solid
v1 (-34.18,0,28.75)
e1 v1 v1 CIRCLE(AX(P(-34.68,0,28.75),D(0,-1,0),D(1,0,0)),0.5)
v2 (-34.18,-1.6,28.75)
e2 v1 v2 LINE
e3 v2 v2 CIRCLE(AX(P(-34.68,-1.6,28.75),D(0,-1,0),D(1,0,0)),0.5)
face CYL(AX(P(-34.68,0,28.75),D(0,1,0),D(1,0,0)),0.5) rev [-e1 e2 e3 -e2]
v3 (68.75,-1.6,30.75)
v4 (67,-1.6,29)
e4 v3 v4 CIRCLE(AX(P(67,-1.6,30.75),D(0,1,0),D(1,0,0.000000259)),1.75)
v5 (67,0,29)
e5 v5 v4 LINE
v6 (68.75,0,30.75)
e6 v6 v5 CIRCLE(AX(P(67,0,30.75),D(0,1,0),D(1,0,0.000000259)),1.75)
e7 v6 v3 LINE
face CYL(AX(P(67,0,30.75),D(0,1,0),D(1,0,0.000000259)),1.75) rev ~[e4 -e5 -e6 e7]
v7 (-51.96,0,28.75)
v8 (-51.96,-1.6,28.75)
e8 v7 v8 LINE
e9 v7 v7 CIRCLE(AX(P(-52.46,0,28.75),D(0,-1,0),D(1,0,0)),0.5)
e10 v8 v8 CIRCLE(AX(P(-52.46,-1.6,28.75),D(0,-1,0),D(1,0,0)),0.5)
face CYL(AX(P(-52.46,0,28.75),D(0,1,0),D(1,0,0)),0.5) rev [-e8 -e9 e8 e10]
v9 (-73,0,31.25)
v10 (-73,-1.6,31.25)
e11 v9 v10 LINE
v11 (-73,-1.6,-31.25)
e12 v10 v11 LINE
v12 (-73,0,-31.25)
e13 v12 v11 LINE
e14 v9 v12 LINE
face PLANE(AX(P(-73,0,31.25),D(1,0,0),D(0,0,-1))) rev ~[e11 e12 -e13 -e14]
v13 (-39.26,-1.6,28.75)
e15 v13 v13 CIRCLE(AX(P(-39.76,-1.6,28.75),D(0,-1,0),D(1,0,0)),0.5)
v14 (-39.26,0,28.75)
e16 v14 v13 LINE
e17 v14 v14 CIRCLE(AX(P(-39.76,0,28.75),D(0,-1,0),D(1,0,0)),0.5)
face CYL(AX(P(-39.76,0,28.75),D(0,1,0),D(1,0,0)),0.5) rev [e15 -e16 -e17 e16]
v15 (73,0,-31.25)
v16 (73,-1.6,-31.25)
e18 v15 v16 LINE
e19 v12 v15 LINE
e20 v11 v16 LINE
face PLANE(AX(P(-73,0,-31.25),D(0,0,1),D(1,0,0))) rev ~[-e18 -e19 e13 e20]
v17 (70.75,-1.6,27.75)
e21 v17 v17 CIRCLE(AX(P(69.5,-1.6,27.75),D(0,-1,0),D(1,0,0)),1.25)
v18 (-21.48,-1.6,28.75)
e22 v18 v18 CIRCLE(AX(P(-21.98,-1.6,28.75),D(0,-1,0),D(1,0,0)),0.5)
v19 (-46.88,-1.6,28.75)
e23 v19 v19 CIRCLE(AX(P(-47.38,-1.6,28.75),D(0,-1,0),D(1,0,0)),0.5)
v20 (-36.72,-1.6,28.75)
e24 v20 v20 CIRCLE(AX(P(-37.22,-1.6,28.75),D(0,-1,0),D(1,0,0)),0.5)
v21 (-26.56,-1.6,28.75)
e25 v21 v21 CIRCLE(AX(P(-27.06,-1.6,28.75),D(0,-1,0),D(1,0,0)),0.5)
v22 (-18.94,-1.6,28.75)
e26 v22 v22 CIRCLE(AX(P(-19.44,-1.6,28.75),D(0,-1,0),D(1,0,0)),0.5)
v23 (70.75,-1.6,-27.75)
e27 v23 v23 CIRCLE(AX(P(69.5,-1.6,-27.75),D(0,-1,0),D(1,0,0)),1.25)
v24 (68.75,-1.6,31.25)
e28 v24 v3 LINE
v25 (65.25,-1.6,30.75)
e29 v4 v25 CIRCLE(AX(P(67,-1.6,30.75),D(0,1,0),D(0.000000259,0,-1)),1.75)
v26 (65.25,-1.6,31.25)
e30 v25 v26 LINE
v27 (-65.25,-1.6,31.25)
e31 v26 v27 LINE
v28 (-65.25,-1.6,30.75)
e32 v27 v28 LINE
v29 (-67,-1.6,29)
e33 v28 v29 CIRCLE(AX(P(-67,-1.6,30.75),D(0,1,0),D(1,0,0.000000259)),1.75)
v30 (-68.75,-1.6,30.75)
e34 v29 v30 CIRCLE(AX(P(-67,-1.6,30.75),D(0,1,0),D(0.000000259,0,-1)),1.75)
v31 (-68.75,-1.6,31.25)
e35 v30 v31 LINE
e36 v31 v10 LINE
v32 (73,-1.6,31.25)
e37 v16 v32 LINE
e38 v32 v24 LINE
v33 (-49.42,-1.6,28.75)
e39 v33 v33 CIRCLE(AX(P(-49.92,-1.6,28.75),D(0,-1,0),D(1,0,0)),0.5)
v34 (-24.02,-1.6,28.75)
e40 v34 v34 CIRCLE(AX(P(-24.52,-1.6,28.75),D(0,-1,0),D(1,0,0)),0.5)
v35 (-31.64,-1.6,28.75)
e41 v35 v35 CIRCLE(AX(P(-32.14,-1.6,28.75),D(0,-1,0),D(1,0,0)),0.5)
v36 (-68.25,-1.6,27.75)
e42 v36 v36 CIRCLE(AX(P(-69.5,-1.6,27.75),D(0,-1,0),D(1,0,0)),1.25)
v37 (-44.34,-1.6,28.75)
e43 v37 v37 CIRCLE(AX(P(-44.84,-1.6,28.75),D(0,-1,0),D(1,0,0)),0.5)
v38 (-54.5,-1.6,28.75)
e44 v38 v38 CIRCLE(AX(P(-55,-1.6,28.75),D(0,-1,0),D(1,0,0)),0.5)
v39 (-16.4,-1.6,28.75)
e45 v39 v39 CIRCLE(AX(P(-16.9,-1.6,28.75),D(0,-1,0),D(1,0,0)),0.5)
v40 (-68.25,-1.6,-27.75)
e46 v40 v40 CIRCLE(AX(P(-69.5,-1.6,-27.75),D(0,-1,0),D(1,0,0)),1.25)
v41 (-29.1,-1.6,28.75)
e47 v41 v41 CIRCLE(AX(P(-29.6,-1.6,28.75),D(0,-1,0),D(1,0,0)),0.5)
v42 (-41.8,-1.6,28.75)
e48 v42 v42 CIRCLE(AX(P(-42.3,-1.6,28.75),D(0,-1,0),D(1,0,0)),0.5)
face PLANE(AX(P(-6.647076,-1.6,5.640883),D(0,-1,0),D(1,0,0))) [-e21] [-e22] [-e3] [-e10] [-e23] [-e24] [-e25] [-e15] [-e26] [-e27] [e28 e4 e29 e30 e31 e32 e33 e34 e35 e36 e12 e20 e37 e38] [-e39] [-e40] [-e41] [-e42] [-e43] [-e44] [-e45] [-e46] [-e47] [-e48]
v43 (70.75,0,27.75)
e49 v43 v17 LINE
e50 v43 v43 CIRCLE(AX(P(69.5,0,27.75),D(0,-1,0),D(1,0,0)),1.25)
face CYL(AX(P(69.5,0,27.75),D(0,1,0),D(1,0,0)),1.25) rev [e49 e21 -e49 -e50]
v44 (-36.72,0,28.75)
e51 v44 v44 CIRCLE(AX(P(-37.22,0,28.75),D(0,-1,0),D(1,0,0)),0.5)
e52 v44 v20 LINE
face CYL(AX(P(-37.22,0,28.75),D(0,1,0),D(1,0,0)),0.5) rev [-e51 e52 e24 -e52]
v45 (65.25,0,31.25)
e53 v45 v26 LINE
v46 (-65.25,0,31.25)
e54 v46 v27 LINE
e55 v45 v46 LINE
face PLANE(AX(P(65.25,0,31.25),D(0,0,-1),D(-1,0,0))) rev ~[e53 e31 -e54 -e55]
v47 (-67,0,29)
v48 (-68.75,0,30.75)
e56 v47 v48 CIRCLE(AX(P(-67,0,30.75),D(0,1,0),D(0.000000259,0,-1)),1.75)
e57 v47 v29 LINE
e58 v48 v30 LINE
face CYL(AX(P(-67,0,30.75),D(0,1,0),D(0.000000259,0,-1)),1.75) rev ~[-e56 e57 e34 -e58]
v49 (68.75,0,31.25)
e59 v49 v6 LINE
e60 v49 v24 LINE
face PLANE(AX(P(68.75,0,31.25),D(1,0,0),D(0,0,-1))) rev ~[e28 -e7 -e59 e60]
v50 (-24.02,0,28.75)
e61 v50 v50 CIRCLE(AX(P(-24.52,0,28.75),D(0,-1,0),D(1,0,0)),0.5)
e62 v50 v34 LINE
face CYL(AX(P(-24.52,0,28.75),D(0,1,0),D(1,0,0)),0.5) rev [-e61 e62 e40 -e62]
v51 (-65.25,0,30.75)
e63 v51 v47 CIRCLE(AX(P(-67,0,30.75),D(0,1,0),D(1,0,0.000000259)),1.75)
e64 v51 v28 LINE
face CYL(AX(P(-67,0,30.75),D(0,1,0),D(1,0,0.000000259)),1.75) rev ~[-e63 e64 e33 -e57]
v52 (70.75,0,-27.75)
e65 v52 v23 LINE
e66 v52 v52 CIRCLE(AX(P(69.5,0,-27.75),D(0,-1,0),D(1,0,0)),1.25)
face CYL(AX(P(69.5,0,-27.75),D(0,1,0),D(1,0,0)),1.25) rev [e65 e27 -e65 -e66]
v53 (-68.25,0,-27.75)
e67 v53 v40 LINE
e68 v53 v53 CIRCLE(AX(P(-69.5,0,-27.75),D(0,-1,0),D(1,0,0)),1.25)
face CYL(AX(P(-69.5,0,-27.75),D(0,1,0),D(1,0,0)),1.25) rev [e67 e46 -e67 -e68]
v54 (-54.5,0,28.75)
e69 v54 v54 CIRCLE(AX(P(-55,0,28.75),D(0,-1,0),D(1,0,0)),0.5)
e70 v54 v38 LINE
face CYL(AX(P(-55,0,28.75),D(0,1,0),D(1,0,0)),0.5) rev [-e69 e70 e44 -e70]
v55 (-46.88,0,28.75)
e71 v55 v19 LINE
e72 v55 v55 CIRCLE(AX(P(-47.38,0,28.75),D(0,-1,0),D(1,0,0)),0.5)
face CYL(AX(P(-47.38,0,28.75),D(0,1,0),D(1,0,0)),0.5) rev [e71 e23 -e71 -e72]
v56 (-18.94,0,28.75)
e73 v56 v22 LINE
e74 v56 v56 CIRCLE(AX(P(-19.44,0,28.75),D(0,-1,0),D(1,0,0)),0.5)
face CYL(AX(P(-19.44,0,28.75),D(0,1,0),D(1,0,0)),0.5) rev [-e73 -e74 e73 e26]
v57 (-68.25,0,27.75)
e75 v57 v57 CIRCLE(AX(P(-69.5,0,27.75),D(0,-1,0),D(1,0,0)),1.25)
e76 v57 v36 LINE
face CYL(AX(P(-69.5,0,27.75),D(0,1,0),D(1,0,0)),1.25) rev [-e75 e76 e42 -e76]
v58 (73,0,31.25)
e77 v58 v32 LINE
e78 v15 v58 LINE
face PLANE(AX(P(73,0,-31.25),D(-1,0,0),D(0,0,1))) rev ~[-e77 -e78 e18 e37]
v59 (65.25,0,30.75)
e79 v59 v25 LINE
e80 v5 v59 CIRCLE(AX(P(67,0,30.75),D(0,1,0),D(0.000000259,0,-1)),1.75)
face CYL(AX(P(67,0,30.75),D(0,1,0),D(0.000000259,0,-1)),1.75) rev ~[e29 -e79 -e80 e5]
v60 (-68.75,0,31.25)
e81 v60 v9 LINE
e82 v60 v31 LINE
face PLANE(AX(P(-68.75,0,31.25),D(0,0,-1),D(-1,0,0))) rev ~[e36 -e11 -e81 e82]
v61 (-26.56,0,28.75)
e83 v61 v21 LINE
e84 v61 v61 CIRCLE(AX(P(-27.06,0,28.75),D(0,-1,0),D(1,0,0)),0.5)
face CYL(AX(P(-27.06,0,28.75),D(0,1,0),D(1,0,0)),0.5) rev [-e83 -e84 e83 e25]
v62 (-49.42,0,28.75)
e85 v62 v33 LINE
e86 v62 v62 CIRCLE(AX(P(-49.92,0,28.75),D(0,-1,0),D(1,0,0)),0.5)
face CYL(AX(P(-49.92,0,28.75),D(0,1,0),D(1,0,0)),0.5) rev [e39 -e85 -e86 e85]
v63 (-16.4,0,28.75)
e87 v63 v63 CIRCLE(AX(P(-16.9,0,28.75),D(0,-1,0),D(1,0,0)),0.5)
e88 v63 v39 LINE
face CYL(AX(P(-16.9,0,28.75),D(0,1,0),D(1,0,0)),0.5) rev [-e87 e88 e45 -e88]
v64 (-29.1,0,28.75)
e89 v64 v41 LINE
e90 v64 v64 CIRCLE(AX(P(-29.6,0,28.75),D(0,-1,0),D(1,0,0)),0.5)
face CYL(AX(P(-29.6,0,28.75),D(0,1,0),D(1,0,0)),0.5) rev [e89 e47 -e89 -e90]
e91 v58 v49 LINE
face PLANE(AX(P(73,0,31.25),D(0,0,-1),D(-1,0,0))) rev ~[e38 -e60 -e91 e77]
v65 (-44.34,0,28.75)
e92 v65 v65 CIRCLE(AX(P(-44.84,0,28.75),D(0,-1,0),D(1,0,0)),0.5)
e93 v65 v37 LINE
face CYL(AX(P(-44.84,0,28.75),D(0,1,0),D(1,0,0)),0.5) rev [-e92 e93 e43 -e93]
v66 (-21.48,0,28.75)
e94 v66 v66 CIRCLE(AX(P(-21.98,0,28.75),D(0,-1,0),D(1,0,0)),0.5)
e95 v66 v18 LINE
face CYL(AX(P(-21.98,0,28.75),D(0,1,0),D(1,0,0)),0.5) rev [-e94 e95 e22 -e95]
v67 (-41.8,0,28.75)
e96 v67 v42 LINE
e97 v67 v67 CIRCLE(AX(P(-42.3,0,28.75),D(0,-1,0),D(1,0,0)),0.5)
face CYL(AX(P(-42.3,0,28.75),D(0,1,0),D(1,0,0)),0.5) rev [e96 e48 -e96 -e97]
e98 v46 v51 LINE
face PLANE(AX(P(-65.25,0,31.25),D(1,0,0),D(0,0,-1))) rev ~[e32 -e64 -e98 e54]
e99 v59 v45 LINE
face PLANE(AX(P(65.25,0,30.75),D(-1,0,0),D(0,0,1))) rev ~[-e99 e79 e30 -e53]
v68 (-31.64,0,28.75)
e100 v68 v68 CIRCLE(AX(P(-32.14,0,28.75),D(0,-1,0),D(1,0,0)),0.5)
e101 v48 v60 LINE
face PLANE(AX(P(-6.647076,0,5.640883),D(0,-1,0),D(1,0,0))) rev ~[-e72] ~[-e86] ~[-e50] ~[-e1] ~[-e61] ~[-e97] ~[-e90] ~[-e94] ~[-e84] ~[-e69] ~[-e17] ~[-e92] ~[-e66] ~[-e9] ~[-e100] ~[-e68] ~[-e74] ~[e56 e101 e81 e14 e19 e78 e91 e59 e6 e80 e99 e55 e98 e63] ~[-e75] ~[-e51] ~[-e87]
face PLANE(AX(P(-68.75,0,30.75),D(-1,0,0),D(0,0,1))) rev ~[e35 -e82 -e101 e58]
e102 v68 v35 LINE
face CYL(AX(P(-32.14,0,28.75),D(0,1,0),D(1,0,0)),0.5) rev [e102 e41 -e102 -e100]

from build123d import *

# Parameters (mm, degrees)
F0_R     = 2
F0_R_2   = 1.25
F0_R_3   = 0.5
F1_DEPTH = 1.6


with BuildPart() as f1:
    # F0 (on Front) → F1 (new body)
    with BuildSketch(Plane.XZ):
        with BuildLine():
            Line((-73, -31.25), (73, -31.25))
            Line((73, -31.25), (73, 31.25))
            Line((73, 31.25), (68.75, 31.25))
            Line((68.75, 31.25), (68.75, 30.75))
            ThreePointArc((68.75, 30.75), (68.237437, 29.512563), (67, 29))
            ThreePointArc((67, 29), (65.762563, 29.512563), (65.25, 30.75))
            Line((65.25, 30.75), (65.25, 31.25))
            Line((65.25, 31.25), (-16, 31.25))
            Line((-16, 31.25), (-16, 29.65))
            Line((-16, 29.65), (-16, 28.75))
            ThreePointArc((-16, 28.75), (-16.263604, 28.113604), (-16.9, 27.85))
            ThreePointArc((-16.9, 27.85), (-17.536396, 28.113604), (-17.8, 28.75))
            Line((-17.8, 28.75), (-17.8, 29.65))
            Line((-17.8, 29.65), (-17.8, 31.25))
            Line((-17.8, 31.25), (-18.54, 31.25))
            Line((-18.54, 31.25), (-18.54, 29.65))
            Line((-18.54, 29.65), (-18.54, 28.75))
            ThreePointArc((-18.54, 28.75), (-18.803604, 28.113604), (-19.44, 27.85))
            ThreePointArc((-19.44, 27.85), (-20.076396, 28.113604), (-20.34, 28.75))
            Line((-20.34, 28.75), (-20.34, 29.65))
            Line((-20.34, 29.65), (-20.34, 31.25))
            Line((-20.34, 31.25), (-21.08, 31.25))
            Line((-21.08, 31.25), (-21.08, 29.65))
            Line((-21.08, 29.65), (-21.08, 28.75))
            ThreePointArc((-21.08, 28.75), (-21.343604, 28.113604), (-21.98, 27.85))
            ThreePointArc((-21.98, 27.85), (-22.616396, 28.113604), (-22.88, 28.75))
            Line((-22.88, 28.75), (-22.88, 29.65))
            Line((-22.88, 29.65), (-22.88, 31.25))
            Line((-22.88, 31.25), (-23.62, 31.25))
            Line((-23.62, 31.25), (-23.62, 29.65))
            Line((-23.62, 29.65), (-23.62, 28.75))
            ThreePointArc((-23.62, 28.75), (-23.883604, 28.113604), (-24.52, 27.85))
            ThreePointArc((-24.52, 27.85), (-25.156396, 28.113604), (-25.42, 28.75))
            Line((-25.42, 28.75), (-25.42, 29.65))
            Line((-25.42, 29.65), (-25.42, 31.25))
            Line((-25.42, 31.25), (-26.16, 31.25))
            Line((-26.16, 31.25), (-26.16, 29.65))
            Line((-26.16, 29.65), (-26.16, 28.75))
            ThreePointArc((-26.16, 28.75), (-26.423604, 28.113604), (-27.06, 27.85))
            ThreePointArc((-27.06, 27.85), (-27.696396, 28.113604), (-27.96, 28.75))
            Line((-27.96, 28.75), (-27.96, 29.65))
            Line((-27.96, 29.65), (-27.96, 31.25))
            Line((-27.96, 31.25), (-28.7, 31.25))
            Line((-28.7, 31.25), (-28.7, 29.65))
            Line((-28.7, 29.65), (-28.7, 28.75))
            ThreePointArc((-28.7, 28.75), (-28.963604, 28.113604), (-29.6, 27.85))
            ThreePointArc((-29.6, 27.85), (-30.236396, 28.113604), (-30.5, 28.75))
            Line((-30.5, 28.75), (-30.5, 29.65))
            Line((-30.5, 29.65), (-30.5, 31.25))
            Line((-30.5, 31.25), (-31.24, 31.25))
            Line((-31.24, 31.25), (-31.24, 29.65))
            Line((-31.24, 29.65), (-31.24, 28.75))
            ThreePointArc((-31.24, 28.75), (-31.503604, 28.113604), (-32.14, 27.85))
            ThreePointArc((-32.14, 27.85), (-32.776396, 28.113604), (-33.04, 28.75))
            Line((-33.04, 28.75), (-33.04, 29.65))
            Line((-33.04, 29.65), (-33.04, 31.25))
            Line((-33.04, 31.25), (-33.78, 31.25))
            Line((-33.78, 31.25), (-33.78, 29.65))
            Line((-33.78, 29.65), (-33.78, 28.75))
            ThreePointArc((-33.78, 28.75), (-34.043604, 28.113604), (-34.68, 27.85))
            ThreePointArc((-34.68, 27.85), (-35.316396, 28.113604), (-35.58, 28.75))
            Line((-35.58, 28.75), (-35.58, 29.65))
            Line((-35.58, 29.65), (-35.58, 31.25))
            Line((-35.58, 31.25), (-36.32, 31.25))
            Line((-36.32, 31.25), (-36.32, 29.65))
            Line((-36.32, 29.65), (-36.32, 28.75))
            ThreePointArc((-36.32, 28.75), (-36.583604, 28.113604), (-37.22, 27.85))
            ThreePointArc((-37.22, 27.85), (-37.856396, 28.113604), (-38.12, 28.75))
            Line((-38.12, 28.75), (-38.12, 29.65))
            Line((-38.12, 29.65), (-38.12, 31.25))
            Line((-38.12, 31.25), (-38.86, 31.25))
            Line((-38.86, 31.25), (-38.86, 29.65))
            Line((-38.86, 29.65), (-38.86, 28.75))
            ThreePointArc((-38.86, 28.75), (-39.123604, 28.113604), (-39.76, 27.85))
            ThreePointArc((-39.76, 27.85), (-40.396396, 28.113604), (-40.66, 28.75))
            Line((-40.66, 28.75), (-40.66, 29.65))
            Line((-40.66, 29.65), (-40.66, 31.25))
            Line((-40.66, 31.25), (-41.4, 31.25))
            Line((-41.4, 31.25), (-41.4, 29.65))
            Line((-41.4, 29.65), (-41.4, 28.75))
            ThreePointArc((-41.4, 28.75), (-41.663604, 28.113604), (-42.3, 27.85))
            ThreePointArc((-42.3, 27.85), (-42.936396, 28.113604), (-43.2, 28.75))
            Line((-43.2, 28.75), (-43.2, 29.65))
            Line((-43.2, 29.65), (-43.2, 31.25))
            Line((-43.2, 31.25), (-43.94, 31.25))
            Line((-43.94, 31.25), (-43.94, 29.65))
            Line((-43.94, 29.65), (-43.94, 28.75))
            ThreePointArc((-43.94, 28.75), (-44.203604, 28.113604), (-44.84, 27.85))
            ThreePointArc((-44.84, 27.85), (-45.476396, 28.113604), (-45.74, 28.75))
            Line((-45.74, 28.75), (-45.74, 29.65))
            Line((-45.74, 29.65), (-45.74, 31.25))
            Line((-45.74, 31.25), (-46.48, 31.25))
            Line((-46.48, 31.25), (-46.48, 29.65))
            Line((-46.48, 29.65), (-46.48, 28.75))
            ThreePointArc((-46.48, 28.75), (-46.743604, 28.113604), (-47.38, 27.85))
            ThreePointArc((-47.38, 27.85), (-48.016396, 28.113604), (-48.28, 28.75))
            Line((-48.28, 28.75), (-48.28, 29.65))
            Line((-48.28, 29.65), (-48.28, 31.25))
            Line((-48.28, 31.25), (-49.02, 31.25))
            Line((-49.02, 31.25), (-49.02, 29.65))
            Line((-49.02, 29.65), (-49.02, 28.75))
            ThreePointArc((-49.02, 28.75), (-49.283604, 28.113604), (-49.92, 27.85))
            ThreePointArc((-49.92, 27.85), (-50.556396, 28.113604), (-50.82, 28.75))
            Line((-50.82, 28.75), (-50.82, 29.65))
            Line((-50.82, 29.65), (-50.82, 31.25))
            Line((-50.82, 31.25), (-51.56, 31.25))
            Line((-51.56, 31.25), (-51.56, 29.65))
            Line((-51.56, 29.65), (-51.56, 28.75))
            ThreePointArc((-51.56, 28.75), (-51.823604, 28.113604), (-52.46, 27.85))
            ThreePointArc((-52.46, 27.85), (-53.096396, 28.113604), (-53.36, 28.75))
            Line((-53.36, 28.75), (-53.36, 29.65))
            Line((-53.36, 29.65), (-53.36, 31.25))
            Line((-53.36, 31.25), (-54.1, 31.25))
            Line((-54.1, 31.25), (-54.1, 29.65))
            Line((-54.1, 29.65), (-54.1, 28.75))
            ThreePointArc((-54.1, 28.75), (-54.363604, 28.113604), (-55, 27.85))
            ThreePointArc((-55, 27.85), (-55.636396, 28.113604), (-55.9, 28.75))
            Line((-55.9, 28.75), (-55.9, 29.65))
            Line((-55.9, 29.65), (-55.9, 31.25))
            Line((-55.9, 31.25), (-65.25, 31.25))
            Line((-65.25, 31.25), (-65.25, 30.75))
            ThreePointArc((-65.25, 30.75), (-65.762563, 29.512563), (-67, 29))
            ThreePointArc((-67, 29), (-68.237437, 29.512563), (-68.75, 30.75))
            Line((-68.75, 30.75), (-68.75, 31.25))
            Line((-68.75, 31.25), (-73, 31.25))
            Line((-73, 31.25), (-73, -31.25))
        make_face()
        with Locations((-69.5, -27.75)):
            Circle(F0_R, mode=Mode.SUBTRACT)
        with Locations((69.5, -27.75)):
            Circle(F0_R, mode=Mode.SUBTRACT)
        with Locations((-69.5, 27.75)):
            Circle(F0_R, mode=Mode.SUBTRACT)
        with Locations((69.5, 27.75)):
            Circle(F0_R, mode=Mode.SUBTRACT)
        with Locations((-69.5, 27.75)):
            Circle(F0_R)
        with Locations((-69.5, 27.75)):
            Circle(F0_R_2, mode=Mode.SUBTRACT)
        with Locations((-69.5, -27.75)):
            Circle(F0_R)
        with Locations((-69.5, -27.75)):
            Circle(F0_R_2, mode=Mode.SUBTRACT)
        with Locations((69.5, 27.75)):
            Circle(F0_R)
        with Locations((69.5, 27.75)):
            Circle(F0_R_2, mode=Mode.SUBTRACT)
        with Locations((69.5, -27.75)):
            Circle(F0_R)
        with Locations((69.5, -27.75)):
            Circle(F0_R_2, mode=Mode.SUBTRACT)
        with BuildLine():
            Line((-54.1, 31.25), (-55.9, 31.25))
            Line((-55.9, 31.25), (-55.9, 29.65))
            Line((-55.9, 29.65), (-55.9, 28.75))
            ThreePointArc((-55.9, 28.75), (-55.636396, 28.113604), (-55, 27.85))
            ThreePointArc((-55, 27.85), (-54.363604, 28.113604), (-54.1, 28.75))
            Line((-54.1, 28.75), (-54.1, 29.65))
            Line((-54.1, 29.65), (-54.1, 31.25))
        make_face()
        with Locations((-55, 28.75)):
            Circle(F0_R_3, mode=Mode.SUBTRACT)
        with BuildLine():
            Line((-51.56, 31.25), (-53.36, 31.25))
            Line((-53.36, 31.25), (-53.36, 29.65))
            Line((-53.36, 29.65), (-53.36, 28.75))
            ThreePointArc((-53.36, 28.75), (-53.096396, 28.113604), (-52.46, 27.85))
            ThreePointArc((-52.46, 27.85), (-51.823604, 28.113604), (-51.56, 28.75))
            Line((-51.56, 28.75), (-51.56, 29.65))
            Line((-51.56, 29.65), (-51.56, 31.25))
        make_face()
        with Locations((-52.46, 28.75)):
            Circle(F0_R_3, mode=Mode.SUBTRACT)
        with BuildLine():
            Line((-49.02, 31.25), (-50.82, 31.25))
            Line((-50.82, 31.25), (-50.82, 29.65))
            Line((-50.82, 29.65), (-50.82, 28.75))
            ThreePointArc((-50.82, 28.75), (-50.556396, 28.113604), (-49.92, 27.85))
            ThreePointArc((-49.92, 27.85), (-49.283604, 28.113604), (-49.02, 28.75))
            Line((-49.02, 28.75), (-49.02, 29.65))
            Line((-49.02, 29.65), (-49.02, 31.25))
        make_face()
        with Locations((-49.92, 28.75)):
            Circle(F0_R_3, mode=Mode.SUBTRACT)
        with BuildLine():
            Line((-46.48, 31.25), (-48.28, 31.25))
            Line((-48.28, 31.25), (-48.28, 29.65))
            Line((-48.28, 29.65), (-48.28, 28.75))
            ThreePointArc((-48.28, 28.75), (-48.016396, 28.113604), (-47.38, 27.85))
            ThreePointArc((-47.38, 27.85), (-46.743604, 28.113604), (-46.48, 28.75))
            Line((-46.48, 28.75), (-46.48, 29.65))
            Line((-46.48, 29.65), (-46.48, 31.25))
        make_face()
        with Locations((-47.38, 28.75)):
            Circle(F0_R_3, mode=Mode.SUBTRACT)
        with BuildLine():
            Line((-43.94, 31.25), (-45.74, 31.25))
            Line((-45.74, 31.25), (-45.74, 29.65))
            Line((-45.74, 29.65), (-45.74, 28.75))
            ThreePointArc((-45.74, 28.75), (-45.476396, 28.113604), (-44.84, 27.85))
            ThreePointArc((-44.84, 27.85), (-44.203604, 28.113604), (-43.94, 28.75))
            Line((-43.94, 28.75), (-43.94, 29.65))
            Line((-43.94, 29.65), (-43.94, 31.25))
        make_face()
        with Locations((-44.84, 28.75)):
            Circle(F0_R_3, mode=Mode.SUBTRACT)
        with BuildLine():
            Line((-41.4, 31.25), (-43.2, 31.25))
            Line((-43.2, 31.25), (-43.2, 29.65))
            Line((-43.2, 29.65), (-43.2, 28.75))
            ThreePointArc((-43.2, 28.75), (-42.936396, 28.113604), (-42.3, 27.85))
            ThreePointArc((-42.3, 27.85), (-41.663604, 28.113604), (-41.4, 28.75))
            Line((-41.4, 28.75), (-41.4, 29.65))
            Line((-41.4, 29.65), (-41.4, 31.25))
        make_face()
        with Locations((-42.3, 28.75)):
            Circle(F0_R_3, mode=Mode.SUBTRACT)
        with BuildLine():
            Line((-38.86, 31.25), (-40.66, 31.25))
            Line((-40.66, 31.25), (-40.66, 29.65))
            Line((-40.66, 29.65), (-40.66, 28.75))
            ThreePointArc((-40.66, 28.75), (-40.396396, 28.113604), (-39.76, 27.85))
            ThreePointArc((-39.76, 27.85), (-39.123604, 28.113604), (-38.86, 28.75))
            Line((-38.86, 28.75), (-38.86, 29.65))
            Line((-38.86, 29.65), (-38.86, 31.25))
        make_face()
        with Locations((-39.76, 28.75)):
            Circle(F0_R_3, mode=Mode.SUBTRACT)
        with BuildLine():
            Line((-36.32, 31.25), (-38.12, 31.25))
            Line((-38.12, 31.25), (-38.12, 29.65))
            Line((-38.12, 29.65), (-38.12, 28.75))
            ThreePointArc((-38.12, 28.75), (-37.856396, 28.113604), (-37.22, 27.85))
            ThreePointArc((-37.22, 27.85), (-36.583604, 28.113604), (-36.32, 28.75))
            Line((-36.32, 28.75), (-36.32, 29.65))
            Line((-36.32, 29.65), (-36.32, 31.25))
        make_face()
        with Locations((-37.22, 28.75)):
            Circle(F0_R_3, mode=Mode.SUBTRACT)
        with BuildLine():
            Line((-33.78, 29.65), (-33.78, 31.25))
            Line((-33.78, 31.25), (-35.58, 31.25))
            Line((-35.58, 31.25), (-35.58, 29.65))
            Line((-35.58, 29.65), (-35.58, 28.75))
            ThreePointArc((-35.58, 28.75), (-35.316396, 28.113604), (-34.68, 27.85))
            ThreePointArc((-34.68, 27.85), (-34.043604, 28.113604), (-33.78, 28.75))
            Line((-33.78, 28.75), (-33.78, 29.65))
        make_face()
        with Locations((-34.68, 28.75)):
            Circle(F0_R_3, mode=Mode.SUBTRACT)
        with BuildLine():
            Line((-31.24, 29.65), (-31.24, 31.25))
            Line((-31.24, 31.25), (-33.04, 31.25))
            Line((-33.04, 31.25), (-33.04, 29.65))
            Line((-33.04, 29.65), (-33.04, 28.75))
            ThreePointArc((-33.04, 28.75), (-32.776396, 28.113604), (-32.14, 27.85))
            ThreePointArc((-32.14, 27.85), (-31.503604, 28.113604), (-31.24, 28.75))
            Line((-31.24, 28.75), (-31.24, 29.65))
        make_face()
        with Locations((-32.14, 28.75)):
            Circle(F0_R_3, mode=Mode.SUBTRACT)
        with BuildLine():
            Line((-28.7, 29.65), (-28.7, 31.25))
            Line((-28.7, 31.25), (-30.5, 31.25))
            Line((-30.5, 31.25), (-30.5, 29.65))
            Line((-30.5, 29.65), (-30.5, 28.75))
            ThreePointArc((-30.5, 28.75), (-30.236396, 28.113604), (-29.6, 27.85))
            ThreePointArc((-29.6, 27.85), (-28.963604, 28.113604), (-28.7, 28.75))
            Line((-28.7, 28.75), (-28.7, 29.65))
        make_face()
        with Locations((-29.6, 28.75)):
            Circle(F0_R_3, mode=Mode.SUBTRACT)
        with BuildLine():
            Line((-26.16, 29.65), (-26.16, 31.25))
            Line((-26.16, 31.25), (-27.96, 31.25))
            Line((-27.96, 31.25), (-27.96, 29.65))
            Line((-27.96, 29.65), (-27.96, 28.75))
            ThreePointArc((-27.96, 28.75), (-27.696396, 28.113604), (-27.06, 27.85))
            ThreePointArc((-27.06, 27.85), (-26.423604, 28.113604), (-26.16, 28.75))
            Line((-26.16, 28.75), (-26.16, 29.65))
        make_face()
        with Locations((-27.06, 28.75)):
            Circle(F0_R_3, mode=Mode.SUBTRACT)
        with BuildLine():
            Line((-23.62, 29.65), (-23.62, 31.25))
            Line((-23.62, 31.25), (-25.42, 31.25))
            Line((-25.42, 31.25), (-25.42, 29.65))
            Line((-25.42, 29.65), (-25.42, 28.75))
            ThreePointArc((-25.42, 28.75), (-25.156396, 28.113604), (-24.52, 27.85))
            ThreePointArc((-24.52, 27.85), (-23.883604, 28.113604), (-23.62, 28.75))
            Line((-23.62, 28.75), (-23.62, 29.65))
        make_face()
        with Locations((-24.52, 28.75)):
            Circle(F0_R_3, mode=Mode.SUBTRACT)
        with BuildLine():
            Line((-21.08, 29.65), (-21.08, 31.25))
            Line((-21.08, 31.25), (-22.88, 31.25))
            Line((-22.88, 31.25), (-22.88, 29.65))
            Line((-22.88, 29.65), (-22.88, 28.75))
            ThreePointArc((-22.88, 28.75), (-22.616396, 28.113604), (-21.98, 27.85))
            ThreePointArc((-21.98, 27.85), (-21.343604, 28.113604), (-21.08, 28.75))
            Line((-21.08, 28.75), (-21.08, 29.65))
        make_face()
        with Locations((-21.98, 28.75)):
            Circle(F0_R_3, mode=Mode.SUBTRACT)
        with BuildLine():
            Line((-18.54, 29.65), (-18.54, 31.25))
            Line((-18.54, 31.25), (-20.34, 31.25))
            Line((-20.34, 31.25), (-20.34, 29.65))
            Line((-20.34, 29.65), (-20.34, 28.75))
            ThreePointArc((-20.34, 28.75), (-20.076396, 28.113604), (-19.44, 27.85))
            ThreePointArc((-19.44, 27.85), (-18.803604, 28.113604), (-18.54, 28.75))
            Line((-18.54, 28.75), (-18.54, 29.65))
        make_face()
        with Locations((-19.44, 28.75)):
            Circle(F0_R_3, mode=Mode.SUBTRACT)
        with BuildLine():
            Line((-16, 29.65), (-16, 31.25))
            Line((-16, 31.25), (-17.8, 31.25))
            Line((-17.8, 31.25), (-17.8, 29.65))
            Line((-17.8, 29.65), (-17.8, 28.75))
            ThreePointArc((-17.8, 28.75), (-17.536396, 28.113604), (-16.9, 27.85))
            ThreePointArc((-16.9, 27.85), (-16.263604, 28.113604), (-16, 28.75))
            Line((-16, 28.75), (-16, 29.65))
        make_face()
        with Locations((-16.9, 28.75)):
            Circle(F0_R_3, mode=Mode.SUBTRACT)
    extrude(amount=F1_DEPTH)


solid = f1.part
